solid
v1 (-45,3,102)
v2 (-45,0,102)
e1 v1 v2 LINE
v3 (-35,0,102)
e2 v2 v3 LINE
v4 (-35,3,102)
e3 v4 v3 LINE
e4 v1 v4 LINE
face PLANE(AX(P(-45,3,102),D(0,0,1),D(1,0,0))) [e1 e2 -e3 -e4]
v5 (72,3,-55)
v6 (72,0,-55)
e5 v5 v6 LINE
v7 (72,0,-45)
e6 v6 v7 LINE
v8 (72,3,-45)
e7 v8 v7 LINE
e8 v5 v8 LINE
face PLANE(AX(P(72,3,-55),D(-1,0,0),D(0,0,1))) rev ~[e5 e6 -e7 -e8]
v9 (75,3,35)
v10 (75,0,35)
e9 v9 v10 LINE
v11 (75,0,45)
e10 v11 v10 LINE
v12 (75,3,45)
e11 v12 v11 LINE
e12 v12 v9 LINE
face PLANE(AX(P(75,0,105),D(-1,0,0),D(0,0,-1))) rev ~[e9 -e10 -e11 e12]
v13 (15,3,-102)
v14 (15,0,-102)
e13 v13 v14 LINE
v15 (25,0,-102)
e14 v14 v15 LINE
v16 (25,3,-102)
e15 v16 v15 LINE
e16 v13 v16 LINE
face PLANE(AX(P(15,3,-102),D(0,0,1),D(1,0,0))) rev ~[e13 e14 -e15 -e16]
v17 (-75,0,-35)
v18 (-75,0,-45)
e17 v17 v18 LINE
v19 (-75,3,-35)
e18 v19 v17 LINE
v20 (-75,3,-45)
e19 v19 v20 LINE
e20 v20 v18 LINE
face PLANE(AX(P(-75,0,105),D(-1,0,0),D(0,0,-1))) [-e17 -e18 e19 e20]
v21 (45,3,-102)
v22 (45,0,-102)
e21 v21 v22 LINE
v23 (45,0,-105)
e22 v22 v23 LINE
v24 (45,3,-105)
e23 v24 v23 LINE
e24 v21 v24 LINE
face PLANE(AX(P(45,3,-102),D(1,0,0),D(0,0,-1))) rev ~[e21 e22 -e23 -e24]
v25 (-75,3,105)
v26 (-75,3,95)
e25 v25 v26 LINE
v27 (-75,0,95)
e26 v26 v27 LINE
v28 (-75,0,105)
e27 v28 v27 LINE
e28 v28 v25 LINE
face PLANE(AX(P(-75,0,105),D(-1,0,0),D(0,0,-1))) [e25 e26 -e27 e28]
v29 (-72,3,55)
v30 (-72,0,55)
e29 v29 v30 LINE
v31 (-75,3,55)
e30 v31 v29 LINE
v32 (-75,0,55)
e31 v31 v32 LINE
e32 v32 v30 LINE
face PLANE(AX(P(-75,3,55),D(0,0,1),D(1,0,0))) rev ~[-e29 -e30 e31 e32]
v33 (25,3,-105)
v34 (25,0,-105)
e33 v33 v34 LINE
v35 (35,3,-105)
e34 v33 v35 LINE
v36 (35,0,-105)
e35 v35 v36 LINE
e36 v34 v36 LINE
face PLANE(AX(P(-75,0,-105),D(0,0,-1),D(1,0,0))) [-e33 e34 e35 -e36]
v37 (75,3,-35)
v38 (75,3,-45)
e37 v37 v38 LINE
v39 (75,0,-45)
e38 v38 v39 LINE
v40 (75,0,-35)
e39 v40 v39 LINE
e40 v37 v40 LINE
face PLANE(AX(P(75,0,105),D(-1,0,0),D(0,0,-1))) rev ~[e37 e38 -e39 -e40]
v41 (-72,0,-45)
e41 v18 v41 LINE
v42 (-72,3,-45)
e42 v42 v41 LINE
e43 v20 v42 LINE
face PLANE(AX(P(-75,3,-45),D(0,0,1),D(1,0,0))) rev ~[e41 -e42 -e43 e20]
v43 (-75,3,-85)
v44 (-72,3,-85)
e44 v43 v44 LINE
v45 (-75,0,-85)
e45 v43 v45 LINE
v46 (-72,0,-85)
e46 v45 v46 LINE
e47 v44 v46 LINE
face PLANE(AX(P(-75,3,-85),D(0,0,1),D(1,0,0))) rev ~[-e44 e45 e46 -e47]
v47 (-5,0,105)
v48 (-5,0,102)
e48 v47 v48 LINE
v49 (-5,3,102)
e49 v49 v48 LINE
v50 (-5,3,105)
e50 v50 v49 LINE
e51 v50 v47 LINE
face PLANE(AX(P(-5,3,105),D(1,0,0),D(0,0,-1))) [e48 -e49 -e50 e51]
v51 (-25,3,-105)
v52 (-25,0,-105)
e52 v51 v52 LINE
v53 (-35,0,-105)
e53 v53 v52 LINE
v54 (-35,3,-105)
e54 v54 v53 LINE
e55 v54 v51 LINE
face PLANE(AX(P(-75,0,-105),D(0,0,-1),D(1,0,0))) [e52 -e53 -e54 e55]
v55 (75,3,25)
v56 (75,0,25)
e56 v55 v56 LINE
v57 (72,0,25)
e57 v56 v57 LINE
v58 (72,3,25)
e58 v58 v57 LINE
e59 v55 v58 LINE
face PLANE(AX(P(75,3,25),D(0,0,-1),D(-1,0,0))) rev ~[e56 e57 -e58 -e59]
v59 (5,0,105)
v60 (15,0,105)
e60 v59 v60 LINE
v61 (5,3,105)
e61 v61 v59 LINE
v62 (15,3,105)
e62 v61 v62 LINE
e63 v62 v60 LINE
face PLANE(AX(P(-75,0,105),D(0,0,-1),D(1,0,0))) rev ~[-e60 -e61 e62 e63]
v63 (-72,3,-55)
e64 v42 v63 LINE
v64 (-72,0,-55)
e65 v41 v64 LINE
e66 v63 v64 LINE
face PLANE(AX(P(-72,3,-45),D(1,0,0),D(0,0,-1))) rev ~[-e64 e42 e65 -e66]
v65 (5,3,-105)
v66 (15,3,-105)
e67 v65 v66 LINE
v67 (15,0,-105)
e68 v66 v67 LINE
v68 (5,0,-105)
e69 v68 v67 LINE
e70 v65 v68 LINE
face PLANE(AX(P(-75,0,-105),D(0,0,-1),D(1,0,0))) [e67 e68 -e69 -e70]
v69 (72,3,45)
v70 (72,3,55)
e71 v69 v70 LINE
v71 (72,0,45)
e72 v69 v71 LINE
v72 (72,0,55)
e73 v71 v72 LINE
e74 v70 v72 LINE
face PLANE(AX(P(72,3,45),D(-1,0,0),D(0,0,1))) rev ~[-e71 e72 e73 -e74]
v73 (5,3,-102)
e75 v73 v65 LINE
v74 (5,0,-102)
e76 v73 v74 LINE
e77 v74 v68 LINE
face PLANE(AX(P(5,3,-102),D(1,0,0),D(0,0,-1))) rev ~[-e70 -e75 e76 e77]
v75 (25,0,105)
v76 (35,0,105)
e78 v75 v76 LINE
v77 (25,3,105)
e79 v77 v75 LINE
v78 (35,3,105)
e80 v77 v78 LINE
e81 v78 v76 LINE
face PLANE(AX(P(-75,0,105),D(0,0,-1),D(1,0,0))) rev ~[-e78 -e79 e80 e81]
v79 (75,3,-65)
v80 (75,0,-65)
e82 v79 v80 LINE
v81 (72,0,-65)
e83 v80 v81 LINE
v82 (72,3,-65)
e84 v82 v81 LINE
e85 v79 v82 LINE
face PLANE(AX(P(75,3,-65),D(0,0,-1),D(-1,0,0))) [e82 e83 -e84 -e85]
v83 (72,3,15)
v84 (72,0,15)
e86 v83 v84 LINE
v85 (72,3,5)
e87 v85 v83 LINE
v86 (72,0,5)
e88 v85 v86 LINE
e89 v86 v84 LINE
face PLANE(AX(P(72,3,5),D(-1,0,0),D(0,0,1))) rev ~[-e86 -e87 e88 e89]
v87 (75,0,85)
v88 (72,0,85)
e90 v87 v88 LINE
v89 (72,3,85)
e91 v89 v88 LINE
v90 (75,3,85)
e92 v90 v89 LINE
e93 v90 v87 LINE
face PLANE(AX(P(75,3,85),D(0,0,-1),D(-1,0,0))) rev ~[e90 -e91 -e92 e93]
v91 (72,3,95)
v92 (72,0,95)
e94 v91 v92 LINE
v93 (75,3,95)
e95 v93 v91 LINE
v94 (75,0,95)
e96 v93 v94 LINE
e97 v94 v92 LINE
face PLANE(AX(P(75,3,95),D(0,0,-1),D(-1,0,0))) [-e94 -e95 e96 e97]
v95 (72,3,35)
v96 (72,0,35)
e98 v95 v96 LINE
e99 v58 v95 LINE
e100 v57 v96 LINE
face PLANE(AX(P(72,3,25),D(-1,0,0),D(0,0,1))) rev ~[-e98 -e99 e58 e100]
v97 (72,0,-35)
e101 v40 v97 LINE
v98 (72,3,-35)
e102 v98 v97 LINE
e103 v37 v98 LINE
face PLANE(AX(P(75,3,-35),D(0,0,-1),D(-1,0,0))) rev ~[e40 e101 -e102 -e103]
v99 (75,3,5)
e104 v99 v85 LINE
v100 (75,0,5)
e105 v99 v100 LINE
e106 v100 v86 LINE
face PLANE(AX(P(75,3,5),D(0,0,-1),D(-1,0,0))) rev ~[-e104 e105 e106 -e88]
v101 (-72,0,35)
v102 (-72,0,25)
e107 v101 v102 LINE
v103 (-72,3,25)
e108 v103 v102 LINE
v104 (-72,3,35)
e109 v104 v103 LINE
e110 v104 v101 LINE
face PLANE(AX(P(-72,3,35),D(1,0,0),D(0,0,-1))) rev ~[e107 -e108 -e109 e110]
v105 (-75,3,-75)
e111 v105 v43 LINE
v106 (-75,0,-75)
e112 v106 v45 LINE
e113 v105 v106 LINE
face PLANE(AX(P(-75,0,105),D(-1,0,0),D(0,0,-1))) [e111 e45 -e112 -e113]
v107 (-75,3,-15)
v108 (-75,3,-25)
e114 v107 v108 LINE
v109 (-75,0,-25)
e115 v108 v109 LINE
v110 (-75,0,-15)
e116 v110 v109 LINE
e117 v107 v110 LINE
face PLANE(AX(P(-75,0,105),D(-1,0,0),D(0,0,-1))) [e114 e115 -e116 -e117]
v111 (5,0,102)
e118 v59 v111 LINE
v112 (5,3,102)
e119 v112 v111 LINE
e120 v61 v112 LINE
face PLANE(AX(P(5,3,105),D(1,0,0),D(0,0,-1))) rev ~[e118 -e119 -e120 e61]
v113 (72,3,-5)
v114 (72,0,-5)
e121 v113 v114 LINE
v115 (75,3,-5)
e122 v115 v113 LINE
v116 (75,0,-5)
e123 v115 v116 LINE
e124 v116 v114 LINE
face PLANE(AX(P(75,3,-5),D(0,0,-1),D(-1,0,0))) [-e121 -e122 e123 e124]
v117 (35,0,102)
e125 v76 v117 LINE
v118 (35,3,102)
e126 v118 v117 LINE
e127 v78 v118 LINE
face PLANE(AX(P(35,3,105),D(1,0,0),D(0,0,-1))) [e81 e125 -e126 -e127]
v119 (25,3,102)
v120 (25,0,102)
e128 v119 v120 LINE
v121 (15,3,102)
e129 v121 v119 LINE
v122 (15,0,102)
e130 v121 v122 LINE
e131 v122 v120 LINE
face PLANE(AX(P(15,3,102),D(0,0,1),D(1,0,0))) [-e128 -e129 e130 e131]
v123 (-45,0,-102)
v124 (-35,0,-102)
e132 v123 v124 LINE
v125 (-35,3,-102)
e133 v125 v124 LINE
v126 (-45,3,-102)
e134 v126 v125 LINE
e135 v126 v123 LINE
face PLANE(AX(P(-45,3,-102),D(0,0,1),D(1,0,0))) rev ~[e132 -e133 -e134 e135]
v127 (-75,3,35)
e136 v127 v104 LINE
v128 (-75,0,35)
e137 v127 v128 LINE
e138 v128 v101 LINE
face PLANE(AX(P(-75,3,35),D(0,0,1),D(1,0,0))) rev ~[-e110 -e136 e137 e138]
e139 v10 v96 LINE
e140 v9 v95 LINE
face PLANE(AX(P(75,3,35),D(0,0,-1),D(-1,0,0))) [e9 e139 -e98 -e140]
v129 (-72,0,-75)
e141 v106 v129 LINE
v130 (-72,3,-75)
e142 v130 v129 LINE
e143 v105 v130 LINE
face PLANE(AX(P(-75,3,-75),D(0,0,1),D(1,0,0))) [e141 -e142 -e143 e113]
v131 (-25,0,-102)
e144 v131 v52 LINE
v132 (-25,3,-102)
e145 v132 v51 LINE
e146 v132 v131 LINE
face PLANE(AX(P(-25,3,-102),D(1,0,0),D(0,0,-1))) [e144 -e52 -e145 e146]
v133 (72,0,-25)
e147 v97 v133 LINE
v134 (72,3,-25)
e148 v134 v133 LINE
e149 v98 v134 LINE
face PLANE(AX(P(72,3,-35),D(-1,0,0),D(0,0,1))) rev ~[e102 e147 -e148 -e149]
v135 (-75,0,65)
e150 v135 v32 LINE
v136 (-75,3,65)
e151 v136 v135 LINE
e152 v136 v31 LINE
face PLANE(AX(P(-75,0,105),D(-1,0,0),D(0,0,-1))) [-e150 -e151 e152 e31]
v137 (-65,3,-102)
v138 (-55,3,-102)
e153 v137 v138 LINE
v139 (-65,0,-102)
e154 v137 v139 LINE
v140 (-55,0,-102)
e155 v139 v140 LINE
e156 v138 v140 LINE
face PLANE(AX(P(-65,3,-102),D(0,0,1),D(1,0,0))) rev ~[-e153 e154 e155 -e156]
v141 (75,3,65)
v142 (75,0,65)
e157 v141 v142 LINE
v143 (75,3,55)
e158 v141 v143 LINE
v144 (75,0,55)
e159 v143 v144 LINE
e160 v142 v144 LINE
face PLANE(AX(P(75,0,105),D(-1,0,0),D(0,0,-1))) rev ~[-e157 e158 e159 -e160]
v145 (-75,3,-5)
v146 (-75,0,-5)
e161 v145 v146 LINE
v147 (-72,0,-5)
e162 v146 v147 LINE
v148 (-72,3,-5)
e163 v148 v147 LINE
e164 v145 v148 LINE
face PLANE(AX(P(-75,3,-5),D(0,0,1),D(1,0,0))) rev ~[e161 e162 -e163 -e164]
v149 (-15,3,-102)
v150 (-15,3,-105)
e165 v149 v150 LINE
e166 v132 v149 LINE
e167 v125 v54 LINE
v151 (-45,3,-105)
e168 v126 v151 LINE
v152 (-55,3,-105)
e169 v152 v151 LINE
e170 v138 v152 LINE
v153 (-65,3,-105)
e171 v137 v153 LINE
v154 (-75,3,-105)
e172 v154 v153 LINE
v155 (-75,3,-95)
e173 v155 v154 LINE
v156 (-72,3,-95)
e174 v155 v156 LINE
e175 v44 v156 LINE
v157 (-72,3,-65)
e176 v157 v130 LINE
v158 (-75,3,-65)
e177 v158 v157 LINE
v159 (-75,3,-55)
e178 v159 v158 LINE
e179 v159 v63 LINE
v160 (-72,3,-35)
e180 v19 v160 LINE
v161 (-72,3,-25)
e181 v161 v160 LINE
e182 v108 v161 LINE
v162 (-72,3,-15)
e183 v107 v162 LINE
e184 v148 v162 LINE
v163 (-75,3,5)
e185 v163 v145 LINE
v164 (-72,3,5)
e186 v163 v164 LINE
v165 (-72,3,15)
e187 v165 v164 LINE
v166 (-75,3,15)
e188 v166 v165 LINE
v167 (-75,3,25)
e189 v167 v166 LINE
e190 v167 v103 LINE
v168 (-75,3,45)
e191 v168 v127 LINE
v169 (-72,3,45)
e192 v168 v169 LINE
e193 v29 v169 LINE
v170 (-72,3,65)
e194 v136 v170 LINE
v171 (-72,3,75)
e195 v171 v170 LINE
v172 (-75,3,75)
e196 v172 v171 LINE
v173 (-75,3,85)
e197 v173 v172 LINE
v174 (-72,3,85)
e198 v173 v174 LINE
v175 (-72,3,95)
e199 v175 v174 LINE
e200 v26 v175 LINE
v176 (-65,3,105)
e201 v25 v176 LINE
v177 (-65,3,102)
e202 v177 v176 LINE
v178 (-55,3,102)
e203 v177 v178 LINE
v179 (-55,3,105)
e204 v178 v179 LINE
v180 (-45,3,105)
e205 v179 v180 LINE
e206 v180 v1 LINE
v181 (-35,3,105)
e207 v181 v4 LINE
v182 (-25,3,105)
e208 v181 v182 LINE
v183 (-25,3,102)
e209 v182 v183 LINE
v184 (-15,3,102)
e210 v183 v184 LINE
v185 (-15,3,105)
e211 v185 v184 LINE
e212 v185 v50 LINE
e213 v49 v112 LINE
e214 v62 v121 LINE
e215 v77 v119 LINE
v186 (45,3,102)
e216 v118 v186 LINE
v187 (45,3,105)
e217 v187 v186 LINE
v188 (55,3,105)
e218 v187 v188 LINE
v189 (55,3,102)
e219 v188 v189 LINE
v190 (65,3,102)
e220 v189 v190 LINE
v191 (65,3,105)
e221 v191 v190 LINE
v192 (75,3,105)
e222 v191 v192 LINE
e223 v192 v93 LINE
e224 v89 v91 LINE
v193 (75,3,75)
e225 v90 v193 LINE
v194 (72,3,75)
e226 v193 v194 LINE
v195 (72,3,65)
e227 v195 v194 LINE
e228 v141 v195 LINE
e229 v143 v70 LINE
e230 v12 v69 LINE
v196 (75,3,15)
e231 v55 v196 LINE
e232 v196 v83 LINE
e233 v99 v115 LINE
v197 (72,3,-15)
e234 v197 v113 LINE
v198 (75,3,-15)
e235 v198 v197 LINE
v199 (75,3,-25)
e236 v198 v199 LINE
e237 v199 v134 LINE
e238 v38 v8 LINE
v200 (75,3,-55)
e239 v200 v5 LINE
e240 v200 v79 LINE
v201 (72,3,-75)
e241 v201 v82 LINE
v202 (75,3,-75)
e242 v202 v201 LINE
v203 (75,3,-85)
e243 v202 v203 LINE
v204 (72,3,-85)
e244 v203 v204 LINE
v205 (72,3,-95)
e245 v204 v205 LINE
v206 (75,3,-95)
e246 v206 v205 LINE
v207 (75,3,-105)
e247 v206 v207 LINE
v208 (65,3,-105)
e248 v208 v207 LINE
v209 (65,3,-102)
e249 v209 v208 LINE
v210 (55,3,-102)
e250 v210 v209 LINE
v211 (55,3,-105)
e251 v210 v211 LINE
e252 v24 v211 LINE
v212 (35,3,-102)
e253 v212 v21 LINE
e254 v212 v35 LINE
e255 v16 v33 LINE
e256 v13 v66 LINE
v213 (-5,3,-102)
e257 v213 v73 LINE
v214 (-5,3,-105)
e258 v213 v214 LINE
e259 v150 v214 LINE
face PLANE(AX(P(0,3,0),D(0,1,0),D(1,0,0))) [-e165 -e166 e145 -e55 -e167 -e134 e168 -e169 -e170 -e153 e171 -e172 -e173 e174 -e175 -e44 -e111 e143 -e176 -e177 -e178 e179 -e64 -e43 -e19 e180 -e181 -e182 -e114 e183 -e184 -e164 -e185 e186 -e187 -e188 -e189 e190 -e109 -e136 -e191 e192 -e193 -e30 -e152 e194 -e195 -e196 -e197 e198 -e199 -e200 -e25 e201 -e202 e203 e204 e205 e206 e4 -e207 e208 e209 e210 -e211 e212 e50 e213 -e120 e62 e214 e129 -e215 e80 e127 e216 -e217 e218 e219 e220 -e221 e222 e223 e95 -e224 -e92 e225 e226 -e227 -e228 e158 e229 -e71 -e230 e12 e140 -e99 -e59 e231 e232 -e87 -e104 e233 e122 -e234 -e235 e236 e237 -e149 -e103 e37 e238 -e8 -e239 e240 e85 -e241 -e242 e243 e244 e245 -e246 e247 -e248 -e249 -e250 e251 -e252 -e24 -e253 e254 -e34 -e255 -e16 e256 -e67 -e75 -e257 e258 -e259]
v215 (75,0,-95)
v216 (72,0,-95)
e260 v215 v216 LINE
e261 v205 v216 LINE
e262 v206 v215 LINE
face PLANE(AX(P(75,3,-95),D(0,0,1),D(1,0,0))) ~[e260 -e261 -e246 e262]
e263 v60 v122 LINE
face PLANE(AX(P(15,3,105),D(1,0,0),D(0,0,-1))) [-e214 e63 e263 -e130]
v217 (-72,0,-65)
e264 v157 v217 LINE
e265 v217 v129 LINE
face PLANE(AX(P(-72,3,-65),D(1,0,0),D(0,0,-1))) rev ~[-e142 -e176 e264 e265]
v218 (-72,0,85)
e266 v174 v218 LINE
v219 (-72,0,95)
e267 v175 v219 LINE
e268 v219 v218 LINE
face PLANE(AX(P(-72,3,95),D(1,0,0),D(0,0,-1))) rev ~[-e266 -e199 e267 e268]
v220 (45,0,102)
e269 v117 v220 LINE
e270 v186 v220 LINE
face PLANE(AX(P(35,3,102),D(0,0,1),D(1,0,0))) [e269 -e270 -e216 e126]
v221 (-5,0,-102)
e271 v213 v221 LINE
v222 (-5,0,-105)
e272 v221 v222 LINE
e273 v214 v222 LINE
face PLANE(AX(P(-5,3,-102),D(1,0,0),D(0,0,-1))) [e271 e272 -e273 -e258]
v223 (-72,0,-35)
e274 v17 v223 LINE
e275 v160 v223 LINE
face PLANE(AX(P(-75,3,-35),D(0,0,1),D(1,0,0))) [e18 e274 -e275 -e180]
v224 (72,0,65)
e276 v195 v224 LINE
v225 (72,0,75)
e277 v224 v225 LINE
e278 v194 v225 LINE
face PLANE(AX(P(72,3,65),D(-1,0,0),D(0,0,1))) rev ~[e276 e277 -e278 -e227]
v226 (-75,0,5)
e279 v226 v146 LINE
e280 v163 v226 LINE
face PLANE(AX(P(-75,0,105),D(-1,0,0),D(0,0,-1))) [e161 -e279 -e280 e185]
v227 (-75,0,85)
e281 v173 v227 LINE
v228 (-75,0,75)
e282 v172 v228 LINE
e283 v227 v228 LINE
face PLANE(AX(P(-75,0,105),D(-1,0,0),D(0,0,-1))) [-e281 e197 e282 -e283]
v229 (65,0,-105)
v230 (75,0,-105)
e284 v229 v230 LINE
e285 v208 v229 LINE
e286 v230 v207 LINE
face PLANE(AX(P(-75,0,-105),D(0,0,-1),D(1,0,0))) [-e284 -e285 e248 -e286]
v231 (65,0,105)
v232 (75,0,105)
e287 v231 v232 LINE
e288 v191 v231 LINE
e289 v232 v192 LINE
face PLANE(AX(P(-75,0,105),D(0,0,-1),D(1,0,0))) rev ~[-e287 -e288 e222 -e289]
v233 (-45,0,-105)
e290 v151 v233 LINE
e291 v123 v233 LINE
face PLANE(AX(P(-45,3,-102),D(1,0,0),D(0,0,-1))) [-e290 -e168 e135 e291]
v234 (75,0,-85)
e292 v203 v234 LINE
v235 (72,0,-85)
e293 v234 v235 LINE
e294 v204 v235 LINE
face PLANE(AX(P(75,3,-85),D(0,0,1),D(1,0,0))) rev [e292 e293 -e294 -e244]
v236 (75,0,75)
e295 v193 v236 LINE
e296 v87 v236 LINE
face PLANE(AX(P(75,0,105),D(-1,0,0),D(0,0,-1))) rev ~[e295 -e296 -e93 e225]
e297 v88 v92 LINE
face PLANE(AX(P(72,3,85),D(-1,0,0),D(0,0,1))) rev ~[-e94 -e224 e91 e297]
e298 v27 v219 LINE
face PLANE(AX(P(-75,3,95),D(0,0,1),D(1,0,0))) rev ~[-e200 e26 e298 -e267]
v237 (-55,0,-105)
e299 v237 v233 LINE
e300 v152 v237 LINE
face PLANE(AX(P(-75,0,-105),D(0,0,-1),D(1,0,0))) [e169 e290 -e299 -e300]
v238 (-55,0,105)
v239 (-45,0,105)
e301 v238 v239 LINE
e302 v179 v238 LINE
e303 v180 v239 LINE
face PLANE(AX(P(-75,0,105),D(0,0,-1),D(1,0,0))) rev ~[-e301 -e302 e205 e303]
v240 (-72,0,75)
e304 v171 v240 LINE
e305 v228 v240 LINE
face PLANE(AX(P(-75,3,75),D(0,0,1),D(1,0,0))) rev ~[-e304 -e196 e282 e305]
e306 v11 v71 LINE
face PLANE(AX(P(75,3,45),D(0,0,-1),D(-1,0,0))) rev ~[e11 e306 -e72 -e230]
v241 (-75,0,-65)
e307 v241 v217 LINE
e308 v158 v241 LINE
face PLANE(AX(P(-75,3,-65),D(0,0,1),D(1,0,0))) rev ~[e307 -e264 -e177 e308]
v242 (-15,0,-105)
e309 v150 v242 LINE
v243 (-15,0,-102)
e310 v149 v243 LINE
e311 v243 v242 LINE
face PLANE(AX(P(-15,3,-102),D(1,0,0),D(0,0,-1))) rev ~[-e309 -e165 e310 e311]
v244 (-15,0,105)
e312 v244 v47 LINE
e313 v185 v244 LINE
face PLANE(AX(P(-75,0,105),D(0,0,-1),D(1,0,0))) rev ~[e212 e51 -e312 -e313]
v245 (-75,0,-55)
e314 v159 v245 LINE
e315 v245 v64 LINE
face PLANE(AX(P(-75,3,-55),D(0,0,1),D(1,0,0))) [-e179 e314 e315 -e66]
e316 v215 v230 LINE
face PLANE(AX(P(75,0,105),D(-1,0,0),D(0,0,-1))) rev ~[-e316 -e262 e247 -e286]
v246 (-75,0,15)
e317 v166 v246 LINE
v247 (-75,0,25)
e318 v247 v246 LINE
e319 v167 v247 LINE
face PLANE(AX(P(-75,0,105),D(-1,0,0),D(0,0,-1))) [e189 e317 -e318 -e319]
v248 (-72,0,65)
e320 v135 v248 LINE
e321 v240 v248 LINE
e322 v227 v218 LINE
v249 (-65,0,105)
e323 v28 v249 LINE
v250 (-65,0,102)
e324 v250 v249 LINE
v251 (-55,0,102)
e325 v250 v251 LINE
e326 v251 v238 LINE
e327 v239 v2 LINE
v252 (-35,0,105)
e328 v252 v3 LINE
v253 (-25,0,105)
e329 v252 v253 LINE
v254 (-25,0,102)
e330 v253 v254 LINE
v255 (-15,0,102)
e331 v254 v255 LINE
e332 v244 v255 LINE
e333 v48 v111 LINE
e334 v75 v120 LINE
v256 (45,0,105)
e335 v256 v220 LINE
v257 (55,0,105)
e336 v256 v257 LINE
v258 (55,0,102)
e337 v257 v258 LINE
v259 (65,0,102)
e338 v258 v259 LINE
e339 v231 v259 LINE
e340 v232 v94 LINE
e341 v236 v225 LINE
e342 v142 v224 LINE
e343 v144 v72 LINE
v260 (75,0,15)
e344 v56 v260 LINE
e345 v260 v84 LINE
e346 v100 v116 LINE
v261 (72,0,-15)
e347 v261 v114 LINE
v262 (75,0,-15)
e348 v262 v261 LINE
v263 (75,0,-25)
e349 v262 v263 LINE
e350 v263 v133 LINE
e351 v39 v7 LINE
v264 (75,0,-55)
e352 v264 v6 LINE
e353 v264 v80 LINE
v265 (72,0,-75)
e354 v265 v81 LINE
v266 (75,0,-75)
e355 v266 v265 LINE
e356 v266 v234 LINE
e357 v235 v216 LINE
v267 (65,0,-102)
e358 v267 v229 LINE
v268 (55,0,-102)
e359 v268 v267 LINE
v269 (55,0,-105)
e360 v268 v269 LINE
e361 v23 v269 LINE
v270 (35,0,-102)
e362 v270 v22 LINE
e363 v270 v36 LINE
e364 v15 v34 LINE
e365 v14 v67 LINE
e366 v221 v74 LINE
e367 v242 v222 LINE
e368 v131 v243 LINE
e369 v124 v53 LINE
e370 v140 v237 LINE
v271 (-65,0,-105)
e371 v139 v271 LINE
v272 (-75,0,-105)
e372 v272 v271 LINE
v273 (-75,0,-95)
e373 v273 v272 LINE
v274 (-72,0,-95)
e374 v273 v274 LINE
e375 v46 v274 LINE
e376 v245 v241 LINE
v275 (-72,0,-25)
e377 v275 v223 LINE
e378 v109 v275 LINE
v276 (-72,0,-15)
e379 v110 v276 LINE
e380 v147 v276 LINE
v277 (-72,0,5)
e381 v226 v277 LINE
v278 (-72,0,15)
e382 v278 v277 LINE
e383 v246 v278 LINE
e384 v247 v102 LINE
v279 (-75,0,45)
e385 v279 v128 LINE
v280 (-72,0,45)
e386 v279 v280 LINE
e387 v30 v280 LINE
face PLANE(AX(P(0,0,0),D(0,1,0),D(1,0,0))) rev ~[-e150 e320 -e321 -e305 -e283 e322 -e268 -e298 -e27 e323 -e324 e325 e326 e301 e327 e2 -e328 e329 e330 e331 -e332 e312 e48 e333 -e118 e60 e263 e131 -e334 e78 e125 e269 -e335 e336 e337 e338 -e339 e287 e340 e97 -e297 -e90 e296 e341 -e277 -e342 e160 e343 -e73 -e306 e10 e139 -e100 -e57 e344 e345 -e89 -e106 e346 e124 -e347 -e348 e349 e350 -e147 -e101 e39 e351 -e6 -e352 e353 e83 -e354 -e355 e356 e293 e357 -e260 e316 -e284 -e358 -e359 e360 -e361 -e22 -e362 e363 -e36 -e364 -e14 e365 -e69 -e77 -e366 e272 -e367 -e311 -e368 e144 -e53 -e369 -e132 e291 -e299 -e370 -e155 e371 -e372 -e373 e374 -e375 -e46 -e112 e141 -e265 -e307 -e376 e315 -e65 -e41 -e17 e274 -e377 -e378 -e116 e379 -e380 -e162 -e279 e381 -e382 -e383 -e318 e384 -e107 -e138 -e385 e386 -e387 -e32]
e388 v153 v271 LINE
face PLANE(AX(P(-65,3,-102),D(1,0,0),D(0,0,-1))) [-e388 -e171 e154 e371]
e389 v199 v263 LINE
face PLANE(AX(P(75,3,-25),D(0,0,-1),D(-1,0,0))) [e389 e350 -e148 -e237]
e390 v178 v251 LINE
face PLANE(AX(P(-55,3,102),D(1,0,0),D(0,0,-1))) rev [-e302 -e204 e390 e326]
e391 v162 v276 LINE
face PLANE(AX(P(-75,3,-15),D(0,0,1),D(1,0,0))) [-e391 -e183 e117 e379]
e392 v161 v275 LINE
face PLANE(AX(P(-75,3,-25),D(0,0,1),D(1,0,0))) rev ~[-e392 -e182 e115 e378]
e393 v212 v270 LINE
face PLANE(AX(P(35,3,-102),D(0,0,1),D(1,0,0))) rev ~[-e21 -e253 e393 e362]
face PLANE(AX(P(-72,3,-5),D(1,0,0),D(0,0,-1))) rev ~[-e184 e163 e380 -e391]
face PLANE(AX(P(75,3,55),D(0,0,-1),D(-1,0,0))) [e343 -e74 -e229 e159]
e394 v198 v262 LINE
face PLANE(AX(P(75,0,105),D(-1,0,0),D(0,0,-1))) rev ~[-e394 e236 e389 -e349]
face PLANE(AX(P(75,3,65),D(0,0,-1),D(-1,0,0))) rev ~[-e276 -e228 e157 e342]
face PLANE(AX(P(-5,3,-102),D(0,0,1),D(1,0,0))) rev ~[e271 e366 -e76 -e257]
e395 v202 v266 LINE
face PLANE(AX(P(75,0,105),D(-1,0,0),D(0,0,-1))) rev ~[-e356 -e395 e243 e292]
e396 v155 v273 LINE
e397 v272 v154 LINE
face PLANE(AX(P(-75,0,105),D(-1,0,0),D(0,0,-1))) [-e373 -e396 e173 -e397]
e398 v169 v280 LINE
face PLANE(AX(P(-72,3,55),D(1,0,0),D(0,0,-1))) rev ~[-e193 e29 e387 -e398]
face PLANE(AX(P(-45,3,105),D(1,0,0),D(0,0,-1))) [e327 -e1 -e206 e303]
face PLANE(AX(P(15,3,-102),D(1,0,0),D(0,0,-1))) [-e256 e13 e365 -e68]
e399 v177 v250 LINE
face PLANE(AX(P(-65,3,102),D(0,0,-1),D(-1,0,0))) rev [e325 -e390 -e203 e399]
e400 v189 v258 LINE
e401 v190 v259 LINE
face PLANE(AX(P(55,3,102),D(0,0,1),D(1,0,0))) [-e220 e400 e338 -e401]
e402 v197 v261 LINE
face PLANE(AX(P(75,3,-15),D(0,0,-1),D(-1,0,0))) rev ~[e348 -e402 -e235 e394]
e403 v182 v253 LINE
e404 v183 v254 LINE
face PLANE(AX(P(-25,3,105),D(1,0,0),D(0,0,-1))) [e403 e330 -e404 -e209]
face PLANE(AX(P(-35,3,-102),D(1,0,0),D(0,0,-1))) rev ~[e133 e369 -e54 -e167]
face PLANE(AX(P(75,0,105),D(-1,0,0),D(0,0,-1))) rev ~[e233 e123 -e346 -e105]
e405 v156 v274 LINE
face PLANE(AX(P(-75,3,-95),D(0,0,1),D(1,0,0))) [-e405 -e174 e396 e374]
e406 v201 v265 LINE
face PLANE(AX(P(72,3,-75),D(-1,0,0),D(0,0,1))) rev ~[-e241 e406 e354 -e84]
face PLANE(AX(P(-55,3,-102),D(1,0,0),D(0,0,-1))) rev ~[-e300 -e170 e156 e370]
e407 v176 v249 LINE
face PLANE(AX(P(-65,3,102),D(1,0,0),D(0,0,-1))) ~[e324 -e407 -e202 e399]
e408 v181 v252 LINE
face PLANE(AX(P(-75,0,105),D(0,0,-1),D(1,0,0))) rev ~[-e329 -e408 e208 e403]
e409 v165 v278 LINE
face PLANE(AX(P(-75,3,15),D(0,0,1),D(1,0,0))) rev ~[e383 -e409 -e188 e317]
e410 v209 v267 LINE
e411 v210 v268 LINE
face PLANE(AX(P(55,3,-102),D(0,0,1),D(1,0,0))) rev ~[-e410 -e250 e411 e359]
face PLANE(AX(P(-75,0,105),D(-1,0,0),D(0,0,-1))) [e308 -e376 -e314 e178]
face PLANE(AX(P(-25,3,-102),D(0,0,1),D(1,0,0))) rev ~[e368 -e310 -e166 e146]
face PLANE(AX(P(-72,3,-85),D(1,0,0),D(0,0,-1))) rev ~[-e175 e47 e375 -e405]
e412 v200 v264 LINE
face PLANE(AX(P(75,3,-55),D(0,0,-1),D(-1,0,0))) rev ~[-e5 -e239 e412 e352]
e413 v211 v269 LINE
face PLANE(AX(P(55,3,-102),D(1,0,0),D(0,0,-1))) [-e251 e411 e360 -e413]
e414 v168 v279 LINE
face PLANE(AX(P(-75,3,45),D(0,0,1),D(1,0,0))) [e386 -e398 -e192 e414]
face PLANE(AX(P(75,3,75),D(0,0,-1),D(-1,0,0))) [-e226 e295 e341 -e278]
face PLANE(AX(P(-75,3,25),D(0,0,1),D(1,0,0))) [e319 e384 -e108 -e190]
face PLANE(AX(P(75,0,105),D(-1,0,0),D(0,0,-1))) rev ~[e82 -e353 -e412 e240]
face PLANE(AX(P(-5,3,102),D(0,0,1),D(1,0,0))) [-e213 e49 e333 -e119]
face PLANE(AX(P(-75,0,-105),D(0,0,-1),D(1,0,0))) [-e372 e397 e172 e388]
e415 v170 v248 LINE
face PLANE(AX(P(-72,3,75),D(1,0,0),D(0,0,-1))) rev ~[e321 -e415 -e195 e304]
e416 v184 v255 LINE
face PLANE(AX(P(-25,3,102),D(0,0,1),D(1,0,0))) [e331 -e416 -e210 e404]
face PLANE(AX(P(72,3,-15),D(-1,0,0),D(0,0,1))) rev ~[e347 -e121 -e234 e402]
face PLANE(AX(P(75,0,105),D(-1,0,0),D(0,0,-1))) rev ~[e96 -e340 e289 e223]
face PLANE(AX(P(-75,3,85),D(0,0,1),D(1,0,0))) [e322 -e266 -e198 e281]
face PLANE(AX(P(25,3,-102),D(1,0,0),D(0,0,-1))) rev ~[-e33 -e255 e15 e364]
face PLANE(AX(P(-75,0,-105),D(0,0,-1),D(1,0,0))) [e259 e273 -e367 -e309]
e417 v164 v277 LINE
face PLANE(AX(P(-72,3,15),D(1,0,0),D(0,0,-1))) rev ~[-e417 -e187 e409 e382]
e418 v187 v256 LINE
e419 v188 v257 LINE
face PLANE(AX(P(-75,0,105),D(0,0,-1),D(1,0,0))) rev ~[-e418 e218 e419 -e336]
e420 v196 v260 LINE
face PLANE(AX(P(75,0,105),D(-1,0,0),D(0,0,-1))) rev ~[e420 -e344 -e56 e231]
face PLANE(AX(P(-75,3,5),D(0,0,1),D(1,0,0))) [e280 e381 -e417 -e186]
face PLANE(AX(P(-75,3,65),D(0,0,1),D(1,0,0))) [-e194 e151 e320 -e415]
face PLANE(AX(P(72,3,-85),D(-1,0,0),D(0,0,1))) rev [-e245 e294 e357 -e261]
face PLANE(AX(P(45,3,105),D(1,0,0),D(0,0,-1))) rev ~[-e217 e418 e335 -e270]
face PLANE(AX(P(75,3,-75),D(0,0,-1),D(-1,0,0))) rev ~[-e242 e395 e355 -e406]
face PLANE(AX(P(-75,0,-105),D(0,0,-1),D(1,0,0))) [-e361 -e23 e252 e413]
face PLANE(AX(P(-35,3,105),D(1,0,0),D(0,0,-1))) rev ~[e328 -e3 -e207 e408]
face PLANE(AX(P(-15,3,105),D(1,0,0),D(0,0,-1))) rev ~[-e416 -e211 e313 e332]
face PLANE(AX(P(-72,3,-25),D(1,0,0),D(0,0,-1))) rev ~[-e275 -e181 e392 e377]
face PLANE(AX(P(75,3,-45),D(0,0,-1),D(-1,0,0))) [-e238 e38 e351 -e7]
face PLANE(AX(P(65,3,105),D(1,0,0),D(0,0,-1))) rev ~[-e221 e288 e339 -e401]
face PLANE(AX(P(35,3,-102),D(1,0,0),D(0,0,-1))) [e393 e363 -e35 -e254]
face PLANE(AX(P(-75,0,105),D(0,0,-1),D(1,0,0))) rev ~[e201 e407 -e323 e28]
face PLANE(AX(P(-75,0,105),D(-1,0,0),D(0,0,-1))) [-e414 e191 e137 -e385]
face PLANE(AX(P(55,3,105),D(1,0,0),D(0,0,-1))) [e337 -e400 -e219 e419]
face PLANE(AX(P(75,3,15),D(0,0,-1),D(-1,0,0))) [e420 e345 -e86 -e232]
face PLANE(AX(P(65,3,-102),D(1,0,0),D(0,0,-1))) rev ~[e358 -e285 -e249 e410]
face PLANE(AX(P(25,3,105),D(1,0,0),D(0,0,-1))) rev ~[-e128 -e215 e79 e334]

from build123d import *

# Parameters (mm, degrees)
SKETCH1_W               = 150
SKETCH1_H               = 210
BOSS_EXTRUDE1_DEPTH     = 3
SKETCH2_W               = 10
SKETCH2_H               = 3
CUT_EXTRUDE1_DEPTH      = 3
LPATTERN1_COUNT         = 7
LPATTERN1_PITCH         = 20
MIRROR1_COPY_1_SKETCH_W = 10
MIRROR1_COPY_1_SKETCH_H = 3
MIRROR1_COPY_1_DEPTH    = 3
MIRROR1_COPY_2_SKETCH_W = 10
MIRROR1_COPY_2_SKETCH_H = 3
MIRROR1_COPY_2_DEPTH    = 3
MIRROR1_COPY_3_SKETCH_W = 10
MIRROR1_COPY_3_SKETCH_H = 3
MIRROR1_COPY_3_DEPTH    = 3
MIRROR1_COPY_4_SKETCH_W = 10
MIRROR1_COPY_4_SKETCH_H = 3
MIRROR1_COPY_4_DEPTH    = 3
MIRROR1_COPY_5_SKETCH_W = 10
MIRROR1_COPY_5_SKETCH_H = 3
MIRROR1_COPY_5_DEPTH    = 3
MIRROR1_COPY_6_SKETCH_W = 10
MIRROR1_COPY_6_SKETCH_H = 3
MIRROR1_COPY_6_DEPTH    = 3
SKETCH4_W               = 3
SKETCH4_H               = 10
CUT_EXTRUDE2_DEPTH      = 3
LPATTERN2_COUNT         = 10
LPATTERN2_PITCH         = 20
MIRROR2_COPY_1_SKETCH_W = 3
MIRROR2_COPY_1_SKETCH_H = 10
MIRROR2_COPY_1_DEPTH    = 3
MIRROR2_COPY_2_SKETCH_W = 3
MIRROR2_COPY_2_SKETCH_H = 10
MIRROR2_COPY_2_DEPTH    = 3
MIRROR2_COPY_3_SKETCH_W = 3
MIRROR2_COPY_3_SKETCH_H = 10
MIRROR2_COPY_3_DEPTH    = 3
MIRROR2_COPY_4_SKETCH_W = 3
MIRROR2_COPY_4_SKETCH_H = 10
MIRROR2_COPY_4_DEPTH    = 3
MIRROR2_COPY_5_SKETCH_W = 3
MIRROR2_COPY_5_SKETCH_H = 10
MIRROR2_COPY_5_DEPTH    = 3
MIRROR2_COPY_6_SKETCH_W = 3
MIRROR2_COPY_6_SKETCH_H = 10
MIRROR2_COPY_6_DEPTH    = 3
MIRROR2_COPY_7_SKETCH_W = 3
MIRROR2_COPY_7_SKETCH_H = 10
MIRROR2_COPY_7_DEPTH    = 3
MIRROR2_COPY_8_SKETCH_W = 3
MIRROR2_COPY_8_SKETCH_H = 10
MIRROR2_COPY_8_DEPTH    = 3
MIRROR2_COPY_9_SKETCH_W = 3
MIRROR2_COPY_9_SKETCH_H = 10
MIRROR2_COPY_9_DEPTH    = 3


with BuildPart() as part:
    # Sketch1 → Boss-Extrude1 (new body)
    with BuildSketch(Plane(origin=(0, 0, 0), x_dir=(1, 0, 0), z_dir=(0, 1, 0))):
        Rectangle(SKETCH1_W, SKETCH1_H)
    extrude(amount=BOSS_EXTRUDE1_DEPTH)

    # Sketch2 → Cut-Extrude1 (cut)
    with BuildSketch(Plane(origin=(0, 3, 0), x_dir=(1, 0, 0), z_dir=(0, 1, 0))):
        with Locations((-60, 103.5)):
            Rectangle(SKETCH2_W, SKETCH2_H)
    cut_extrude1 = extrude(amount=-CUT_EXTRUDE1_DEPTH, mode=Mode.SUBTRACT)

    # LPattern1: Cut-Extrude1 ×7
    with Locations(*[(i * LPATTERN1_PITCH, 0, 0) for i in range(1, LPATTERN1_COUNT)]):
        add(cut_extrude1, mode=Mode.SUBTRACT)

    # Mirror1: Cut-Extrude1 across plane
    add(cut_extrude1.mirror(Plane.XY), mode=Mode.SUBTRACT)

    # Mirror1 copy 1 sketch → Mirror1 copy 1 (cut)
    with BuildSketch(Plane(origin=(20, 3, 0), x_dir=(1, 0, 0), z_dir=(0, 1, 0))):
        with Locations((-60, -103.5)):
            Rectangle(MIRROR1_COPY_1_SKETCH_W, MIRROR1_COPY_1_SKETCH_H)
    extrude(amount=-MIRROR1_COPY_1_DEPTH, mode=Mode.SUBTRACT)

    # Mirror1 copy 2 sketch → Mirror1 copy 2 (cut)
    with BuildSketch(Plane(origin=(40, 3, 0), x_dir=(1, 0, 0), z_dir=(0, 1, 0))):
        with Locations((-60, -103.5)):
            Rectangle(MIRROR1_COPY_2_SKETCH_W, MIRROR1_COPY_2_SKETCH_H)
    extrude(amount=-MIRROR1_COPY_2_DEPTH, mode=Mode.SUBTRACT)

    # Mirror1 copy 3 sketch → Mirror1 copy 3 (cut)
    with BuildSketch(Plane(origin=(60, 3, 0), x_dir=(1, 0, 0), z_dir=(0, 1, 0))):
        with Locations((-60, -103.5)):
            Rectangle(MIRROR1_COPY_3_SKETCH_W, MIRROR1_COPY_3_SKETCH_H)
    extrude(amount=-MIRROR1_COPY_3_DEPTH, mode=Mode.SUBTRACT)

    # Mirror1 copy 4 sketch → Mirror1 copy 4 (cut)
    with BuildSketch(Plane(origin=(80, 3, 0), x_dir=(1, 0, 0), z_dir=(0, 1, 0))):
        with Locations((-60, -103.5)):
            Rectangle(MIRROR1_COPY_4_SKETCH_W, MIRROR1_COPY_4_SKETCH_H)
    extrude(amount=-MIRROR1_COPY_4_DEPTH, mode=Mode.SUBTRACT)

    # Mirror1 copy 5 sketch → Mirror1 copy 5 (cut)
    with BuildSketch(Plane(origin=(100, 3, 0), x_dir=(1, 0, 0), z_dir=(0, 1, 0))):
        with Locations((-60, -103.5)):
            Rectangle(MIRROR1_COPY_5_SKETCH_W, MIRROR1_COPY_5_SKETCH_H)
    extrude(amount=-MIRROR1_COPY_5_DEPTH, mode=Mode.SUBTRACT)

    # Mirror1 copy 6 sketch → Mirror1 copy 6 (cut)
    with BuildSketch(Plane(origin=(120, 3, 0), x_dir=(1, 0, 0), z_dir=(0, 1, 0))):
        with Locations((-60, -103.5)):
            Rectangle(MIRROR1_COPY_6_SKETCH_W, MIRROR1_COPY_6_SKETCH_H)
    extrude(amount=-MIRROR1_COPY_6_DEPTH, mode=Mode.SUBTRACT)

    # Sketch4 → Cut-Extrude2 (cut)
    with BuildSketch(Plane(origin=(0, 3, 0), x_dir=(1, 0, 0), z_dir=(0, 1, 0))):
        with Locations((-73.5, 90)):
            Rectangle(SKETCH4_W, SKETCH4_H)
    cut_extrude2 = extrude(amount=-CUT_EXTRUDE2_DEPTH, mode=Mode.SUBTRACT)

    # LPattern2: Cut-Extrude2 ×10
    with Locations(*[(0, 0, i * LPATTERN2_PITCH) for i in range(1, LPATTERN2_COUNT)]):
        add(cut_extrude2, mode=Mode.SUBTRACT)

    # Mirror2: Cut-Extrude2 across plane
    add(cut_extrude2.mirror(Plane(origin=(0, 0, 0), x_dir=(0, 0, 1), z_dir=(1, 0, 0))), mode=Mode.SUBTRACT)

    # Mirror2 copy 1 sketch → Mirror2 copy 1 (cut)
    with BuildSketch(Plane(origin=(0, 3, 20), x_dir=(-1, 0, 0), z_dir=(0, 1, 0))):
        with Locations((-73.5, -90)):
            Rectangle(MIRROR2_COPY_1_SKETCH_W, MIRROR2_COPY_1_SKETCH_H)
    extrude(amount=-MIRROR2_COPY_1_DEPTH, mode=Mode.SUBTRACT)

    # Mirror2 copy 2 sketch → Mirror2 copy 2 (cut)
    with BuildSketch(Plane(origin=(0, 3, 40), x_dir=(-1, 0, 0), z_dir=(0, 1, 0))):
        with Locations((-73.5, -90)):
            Rectangle(MIRROR2_COPY_2_SKETCH_W, MIRROR2_COPY_2_SKETCH_H)
    extrude(amount=-MIRROR2_COPY_2_DEPTH, mode=Mode.SUBTRACT)

    # Mirror2 copy 3 sketch → Mirror2 copy 3 (cut)
    with BuildSketch(Plane(origin=(0, 3, 60), x_dir=(-1, 0, 0), z_dir=(0, 1, 0))):
        with Locations((-73.5, -90)):
            Rectangle(MIRROR2_COPY_3_SKETCH_W, MIRROR2_COPY_3_SKETCH_H)
    extrude(amount=-MIRROR2_COPY_3_DEPTH, mode=Mode.SUBTRACT)

    # Mirror2 copy 4 sketch → Mirror2 copy 4 (cut)
    with BuildSketch(Plane(origin=(0, 3, 80), x_dir=(-1, 0, 0), z_dir=(0, 1, 0))):
        with Locations((-73.5, -90)):
            Rectangle(MIRROR2_COPY_4_SKETCH_W, MIRROR2_COPY_4_SKETCH_H)
    extrude(amount=-MIRROR2_COPY_4_DEPTH, mode=Mode.SUBTRACT)

    # Mirror2 copy 5 sketch → Mirror2 copy 5 (cut)
    with BuildSketch(Plane(origin=(0, 3, 100), x_dir=(-1, 0, 0), z_dir=(0, 1, 0))):
        with Locations((-73.5, -90)):
            Rectangle(MIRROR2_COPY_5_SKETCH_W, MIRROR2_COPY_5_SKETCH_H)
    extrude(amount=-MIRROR2_COPY_5_DEPTH, mode=Mode.SUBTRACT)

    # Mirror2 copy 6 sketch → Mirror2 copy 6 (cut)
    with BuildSketch(Plane(origin=(0, 3, 120), x_dir=(-1, 0, 0), z_dir=(0, 1, 0))):
        with Locations((-73.5, -90)):
            Rectangle(MIRROR2_COPY_6_SKETCH_W, MIRROR2_COPY_6_SKETCH_H)
    extrude(amount=-MIRROR2_COPY_6_DEPTH, mode=Mode.SUBTRACT)

    # Mirror2 copy 7 sketch → Mirror2 copy 7 (cut)
    with BuildSketch(Plane(origin=(0, 3, 140), x_dir=(-1, 0, 0), z_dir=(0, 1, 0))):
        with Locations((-73.5, -90)):
            Rectangle(MIRROR2_COPY_7_SKETCH_W, MIRROR2_COPY_7_SKETCH_H)
    extrude(amount=-MIRROR2_COPY_7_DEPTH, mode=Mode.SUBTRACT)

    # Mirror2 copy 8 sketch → Mirror2 copy 8 (cut)
    with BuildSketch(Plane(origin=(0, 3, 160), x_dir=(-1, 0, 0), z_dir=(0, 1, 0))):
        with Locations((-73.5, -90)):
            Rectangle(MIRROR2_COPY_8_SKETCH_W, MIRROR2_COPY_8_SKETCH_H)
    extrude(amount=-MIRROR2_COPY_8_DEPTH, mode=Mode.SUBTRACT)

    # Mirror2 copy 9 sketch → Mirror2 copy 9 (cut)
    with BuildSketch(Plane(origin=(0, 3, 180), x_dir=(-1, 0, 0), z_dir=(0, 1, 0))):
        with Locations((-73.5, -90)):
            Rectangle(MIRROR2_COPY_9_SKETCH_W, MIRROR2_COPY_9_SKETCH_H)
    extrude(amount=-MIRROR2_COPY_9_DEPTH, mode=Mode.SUBTRACT)


solid = part.part
